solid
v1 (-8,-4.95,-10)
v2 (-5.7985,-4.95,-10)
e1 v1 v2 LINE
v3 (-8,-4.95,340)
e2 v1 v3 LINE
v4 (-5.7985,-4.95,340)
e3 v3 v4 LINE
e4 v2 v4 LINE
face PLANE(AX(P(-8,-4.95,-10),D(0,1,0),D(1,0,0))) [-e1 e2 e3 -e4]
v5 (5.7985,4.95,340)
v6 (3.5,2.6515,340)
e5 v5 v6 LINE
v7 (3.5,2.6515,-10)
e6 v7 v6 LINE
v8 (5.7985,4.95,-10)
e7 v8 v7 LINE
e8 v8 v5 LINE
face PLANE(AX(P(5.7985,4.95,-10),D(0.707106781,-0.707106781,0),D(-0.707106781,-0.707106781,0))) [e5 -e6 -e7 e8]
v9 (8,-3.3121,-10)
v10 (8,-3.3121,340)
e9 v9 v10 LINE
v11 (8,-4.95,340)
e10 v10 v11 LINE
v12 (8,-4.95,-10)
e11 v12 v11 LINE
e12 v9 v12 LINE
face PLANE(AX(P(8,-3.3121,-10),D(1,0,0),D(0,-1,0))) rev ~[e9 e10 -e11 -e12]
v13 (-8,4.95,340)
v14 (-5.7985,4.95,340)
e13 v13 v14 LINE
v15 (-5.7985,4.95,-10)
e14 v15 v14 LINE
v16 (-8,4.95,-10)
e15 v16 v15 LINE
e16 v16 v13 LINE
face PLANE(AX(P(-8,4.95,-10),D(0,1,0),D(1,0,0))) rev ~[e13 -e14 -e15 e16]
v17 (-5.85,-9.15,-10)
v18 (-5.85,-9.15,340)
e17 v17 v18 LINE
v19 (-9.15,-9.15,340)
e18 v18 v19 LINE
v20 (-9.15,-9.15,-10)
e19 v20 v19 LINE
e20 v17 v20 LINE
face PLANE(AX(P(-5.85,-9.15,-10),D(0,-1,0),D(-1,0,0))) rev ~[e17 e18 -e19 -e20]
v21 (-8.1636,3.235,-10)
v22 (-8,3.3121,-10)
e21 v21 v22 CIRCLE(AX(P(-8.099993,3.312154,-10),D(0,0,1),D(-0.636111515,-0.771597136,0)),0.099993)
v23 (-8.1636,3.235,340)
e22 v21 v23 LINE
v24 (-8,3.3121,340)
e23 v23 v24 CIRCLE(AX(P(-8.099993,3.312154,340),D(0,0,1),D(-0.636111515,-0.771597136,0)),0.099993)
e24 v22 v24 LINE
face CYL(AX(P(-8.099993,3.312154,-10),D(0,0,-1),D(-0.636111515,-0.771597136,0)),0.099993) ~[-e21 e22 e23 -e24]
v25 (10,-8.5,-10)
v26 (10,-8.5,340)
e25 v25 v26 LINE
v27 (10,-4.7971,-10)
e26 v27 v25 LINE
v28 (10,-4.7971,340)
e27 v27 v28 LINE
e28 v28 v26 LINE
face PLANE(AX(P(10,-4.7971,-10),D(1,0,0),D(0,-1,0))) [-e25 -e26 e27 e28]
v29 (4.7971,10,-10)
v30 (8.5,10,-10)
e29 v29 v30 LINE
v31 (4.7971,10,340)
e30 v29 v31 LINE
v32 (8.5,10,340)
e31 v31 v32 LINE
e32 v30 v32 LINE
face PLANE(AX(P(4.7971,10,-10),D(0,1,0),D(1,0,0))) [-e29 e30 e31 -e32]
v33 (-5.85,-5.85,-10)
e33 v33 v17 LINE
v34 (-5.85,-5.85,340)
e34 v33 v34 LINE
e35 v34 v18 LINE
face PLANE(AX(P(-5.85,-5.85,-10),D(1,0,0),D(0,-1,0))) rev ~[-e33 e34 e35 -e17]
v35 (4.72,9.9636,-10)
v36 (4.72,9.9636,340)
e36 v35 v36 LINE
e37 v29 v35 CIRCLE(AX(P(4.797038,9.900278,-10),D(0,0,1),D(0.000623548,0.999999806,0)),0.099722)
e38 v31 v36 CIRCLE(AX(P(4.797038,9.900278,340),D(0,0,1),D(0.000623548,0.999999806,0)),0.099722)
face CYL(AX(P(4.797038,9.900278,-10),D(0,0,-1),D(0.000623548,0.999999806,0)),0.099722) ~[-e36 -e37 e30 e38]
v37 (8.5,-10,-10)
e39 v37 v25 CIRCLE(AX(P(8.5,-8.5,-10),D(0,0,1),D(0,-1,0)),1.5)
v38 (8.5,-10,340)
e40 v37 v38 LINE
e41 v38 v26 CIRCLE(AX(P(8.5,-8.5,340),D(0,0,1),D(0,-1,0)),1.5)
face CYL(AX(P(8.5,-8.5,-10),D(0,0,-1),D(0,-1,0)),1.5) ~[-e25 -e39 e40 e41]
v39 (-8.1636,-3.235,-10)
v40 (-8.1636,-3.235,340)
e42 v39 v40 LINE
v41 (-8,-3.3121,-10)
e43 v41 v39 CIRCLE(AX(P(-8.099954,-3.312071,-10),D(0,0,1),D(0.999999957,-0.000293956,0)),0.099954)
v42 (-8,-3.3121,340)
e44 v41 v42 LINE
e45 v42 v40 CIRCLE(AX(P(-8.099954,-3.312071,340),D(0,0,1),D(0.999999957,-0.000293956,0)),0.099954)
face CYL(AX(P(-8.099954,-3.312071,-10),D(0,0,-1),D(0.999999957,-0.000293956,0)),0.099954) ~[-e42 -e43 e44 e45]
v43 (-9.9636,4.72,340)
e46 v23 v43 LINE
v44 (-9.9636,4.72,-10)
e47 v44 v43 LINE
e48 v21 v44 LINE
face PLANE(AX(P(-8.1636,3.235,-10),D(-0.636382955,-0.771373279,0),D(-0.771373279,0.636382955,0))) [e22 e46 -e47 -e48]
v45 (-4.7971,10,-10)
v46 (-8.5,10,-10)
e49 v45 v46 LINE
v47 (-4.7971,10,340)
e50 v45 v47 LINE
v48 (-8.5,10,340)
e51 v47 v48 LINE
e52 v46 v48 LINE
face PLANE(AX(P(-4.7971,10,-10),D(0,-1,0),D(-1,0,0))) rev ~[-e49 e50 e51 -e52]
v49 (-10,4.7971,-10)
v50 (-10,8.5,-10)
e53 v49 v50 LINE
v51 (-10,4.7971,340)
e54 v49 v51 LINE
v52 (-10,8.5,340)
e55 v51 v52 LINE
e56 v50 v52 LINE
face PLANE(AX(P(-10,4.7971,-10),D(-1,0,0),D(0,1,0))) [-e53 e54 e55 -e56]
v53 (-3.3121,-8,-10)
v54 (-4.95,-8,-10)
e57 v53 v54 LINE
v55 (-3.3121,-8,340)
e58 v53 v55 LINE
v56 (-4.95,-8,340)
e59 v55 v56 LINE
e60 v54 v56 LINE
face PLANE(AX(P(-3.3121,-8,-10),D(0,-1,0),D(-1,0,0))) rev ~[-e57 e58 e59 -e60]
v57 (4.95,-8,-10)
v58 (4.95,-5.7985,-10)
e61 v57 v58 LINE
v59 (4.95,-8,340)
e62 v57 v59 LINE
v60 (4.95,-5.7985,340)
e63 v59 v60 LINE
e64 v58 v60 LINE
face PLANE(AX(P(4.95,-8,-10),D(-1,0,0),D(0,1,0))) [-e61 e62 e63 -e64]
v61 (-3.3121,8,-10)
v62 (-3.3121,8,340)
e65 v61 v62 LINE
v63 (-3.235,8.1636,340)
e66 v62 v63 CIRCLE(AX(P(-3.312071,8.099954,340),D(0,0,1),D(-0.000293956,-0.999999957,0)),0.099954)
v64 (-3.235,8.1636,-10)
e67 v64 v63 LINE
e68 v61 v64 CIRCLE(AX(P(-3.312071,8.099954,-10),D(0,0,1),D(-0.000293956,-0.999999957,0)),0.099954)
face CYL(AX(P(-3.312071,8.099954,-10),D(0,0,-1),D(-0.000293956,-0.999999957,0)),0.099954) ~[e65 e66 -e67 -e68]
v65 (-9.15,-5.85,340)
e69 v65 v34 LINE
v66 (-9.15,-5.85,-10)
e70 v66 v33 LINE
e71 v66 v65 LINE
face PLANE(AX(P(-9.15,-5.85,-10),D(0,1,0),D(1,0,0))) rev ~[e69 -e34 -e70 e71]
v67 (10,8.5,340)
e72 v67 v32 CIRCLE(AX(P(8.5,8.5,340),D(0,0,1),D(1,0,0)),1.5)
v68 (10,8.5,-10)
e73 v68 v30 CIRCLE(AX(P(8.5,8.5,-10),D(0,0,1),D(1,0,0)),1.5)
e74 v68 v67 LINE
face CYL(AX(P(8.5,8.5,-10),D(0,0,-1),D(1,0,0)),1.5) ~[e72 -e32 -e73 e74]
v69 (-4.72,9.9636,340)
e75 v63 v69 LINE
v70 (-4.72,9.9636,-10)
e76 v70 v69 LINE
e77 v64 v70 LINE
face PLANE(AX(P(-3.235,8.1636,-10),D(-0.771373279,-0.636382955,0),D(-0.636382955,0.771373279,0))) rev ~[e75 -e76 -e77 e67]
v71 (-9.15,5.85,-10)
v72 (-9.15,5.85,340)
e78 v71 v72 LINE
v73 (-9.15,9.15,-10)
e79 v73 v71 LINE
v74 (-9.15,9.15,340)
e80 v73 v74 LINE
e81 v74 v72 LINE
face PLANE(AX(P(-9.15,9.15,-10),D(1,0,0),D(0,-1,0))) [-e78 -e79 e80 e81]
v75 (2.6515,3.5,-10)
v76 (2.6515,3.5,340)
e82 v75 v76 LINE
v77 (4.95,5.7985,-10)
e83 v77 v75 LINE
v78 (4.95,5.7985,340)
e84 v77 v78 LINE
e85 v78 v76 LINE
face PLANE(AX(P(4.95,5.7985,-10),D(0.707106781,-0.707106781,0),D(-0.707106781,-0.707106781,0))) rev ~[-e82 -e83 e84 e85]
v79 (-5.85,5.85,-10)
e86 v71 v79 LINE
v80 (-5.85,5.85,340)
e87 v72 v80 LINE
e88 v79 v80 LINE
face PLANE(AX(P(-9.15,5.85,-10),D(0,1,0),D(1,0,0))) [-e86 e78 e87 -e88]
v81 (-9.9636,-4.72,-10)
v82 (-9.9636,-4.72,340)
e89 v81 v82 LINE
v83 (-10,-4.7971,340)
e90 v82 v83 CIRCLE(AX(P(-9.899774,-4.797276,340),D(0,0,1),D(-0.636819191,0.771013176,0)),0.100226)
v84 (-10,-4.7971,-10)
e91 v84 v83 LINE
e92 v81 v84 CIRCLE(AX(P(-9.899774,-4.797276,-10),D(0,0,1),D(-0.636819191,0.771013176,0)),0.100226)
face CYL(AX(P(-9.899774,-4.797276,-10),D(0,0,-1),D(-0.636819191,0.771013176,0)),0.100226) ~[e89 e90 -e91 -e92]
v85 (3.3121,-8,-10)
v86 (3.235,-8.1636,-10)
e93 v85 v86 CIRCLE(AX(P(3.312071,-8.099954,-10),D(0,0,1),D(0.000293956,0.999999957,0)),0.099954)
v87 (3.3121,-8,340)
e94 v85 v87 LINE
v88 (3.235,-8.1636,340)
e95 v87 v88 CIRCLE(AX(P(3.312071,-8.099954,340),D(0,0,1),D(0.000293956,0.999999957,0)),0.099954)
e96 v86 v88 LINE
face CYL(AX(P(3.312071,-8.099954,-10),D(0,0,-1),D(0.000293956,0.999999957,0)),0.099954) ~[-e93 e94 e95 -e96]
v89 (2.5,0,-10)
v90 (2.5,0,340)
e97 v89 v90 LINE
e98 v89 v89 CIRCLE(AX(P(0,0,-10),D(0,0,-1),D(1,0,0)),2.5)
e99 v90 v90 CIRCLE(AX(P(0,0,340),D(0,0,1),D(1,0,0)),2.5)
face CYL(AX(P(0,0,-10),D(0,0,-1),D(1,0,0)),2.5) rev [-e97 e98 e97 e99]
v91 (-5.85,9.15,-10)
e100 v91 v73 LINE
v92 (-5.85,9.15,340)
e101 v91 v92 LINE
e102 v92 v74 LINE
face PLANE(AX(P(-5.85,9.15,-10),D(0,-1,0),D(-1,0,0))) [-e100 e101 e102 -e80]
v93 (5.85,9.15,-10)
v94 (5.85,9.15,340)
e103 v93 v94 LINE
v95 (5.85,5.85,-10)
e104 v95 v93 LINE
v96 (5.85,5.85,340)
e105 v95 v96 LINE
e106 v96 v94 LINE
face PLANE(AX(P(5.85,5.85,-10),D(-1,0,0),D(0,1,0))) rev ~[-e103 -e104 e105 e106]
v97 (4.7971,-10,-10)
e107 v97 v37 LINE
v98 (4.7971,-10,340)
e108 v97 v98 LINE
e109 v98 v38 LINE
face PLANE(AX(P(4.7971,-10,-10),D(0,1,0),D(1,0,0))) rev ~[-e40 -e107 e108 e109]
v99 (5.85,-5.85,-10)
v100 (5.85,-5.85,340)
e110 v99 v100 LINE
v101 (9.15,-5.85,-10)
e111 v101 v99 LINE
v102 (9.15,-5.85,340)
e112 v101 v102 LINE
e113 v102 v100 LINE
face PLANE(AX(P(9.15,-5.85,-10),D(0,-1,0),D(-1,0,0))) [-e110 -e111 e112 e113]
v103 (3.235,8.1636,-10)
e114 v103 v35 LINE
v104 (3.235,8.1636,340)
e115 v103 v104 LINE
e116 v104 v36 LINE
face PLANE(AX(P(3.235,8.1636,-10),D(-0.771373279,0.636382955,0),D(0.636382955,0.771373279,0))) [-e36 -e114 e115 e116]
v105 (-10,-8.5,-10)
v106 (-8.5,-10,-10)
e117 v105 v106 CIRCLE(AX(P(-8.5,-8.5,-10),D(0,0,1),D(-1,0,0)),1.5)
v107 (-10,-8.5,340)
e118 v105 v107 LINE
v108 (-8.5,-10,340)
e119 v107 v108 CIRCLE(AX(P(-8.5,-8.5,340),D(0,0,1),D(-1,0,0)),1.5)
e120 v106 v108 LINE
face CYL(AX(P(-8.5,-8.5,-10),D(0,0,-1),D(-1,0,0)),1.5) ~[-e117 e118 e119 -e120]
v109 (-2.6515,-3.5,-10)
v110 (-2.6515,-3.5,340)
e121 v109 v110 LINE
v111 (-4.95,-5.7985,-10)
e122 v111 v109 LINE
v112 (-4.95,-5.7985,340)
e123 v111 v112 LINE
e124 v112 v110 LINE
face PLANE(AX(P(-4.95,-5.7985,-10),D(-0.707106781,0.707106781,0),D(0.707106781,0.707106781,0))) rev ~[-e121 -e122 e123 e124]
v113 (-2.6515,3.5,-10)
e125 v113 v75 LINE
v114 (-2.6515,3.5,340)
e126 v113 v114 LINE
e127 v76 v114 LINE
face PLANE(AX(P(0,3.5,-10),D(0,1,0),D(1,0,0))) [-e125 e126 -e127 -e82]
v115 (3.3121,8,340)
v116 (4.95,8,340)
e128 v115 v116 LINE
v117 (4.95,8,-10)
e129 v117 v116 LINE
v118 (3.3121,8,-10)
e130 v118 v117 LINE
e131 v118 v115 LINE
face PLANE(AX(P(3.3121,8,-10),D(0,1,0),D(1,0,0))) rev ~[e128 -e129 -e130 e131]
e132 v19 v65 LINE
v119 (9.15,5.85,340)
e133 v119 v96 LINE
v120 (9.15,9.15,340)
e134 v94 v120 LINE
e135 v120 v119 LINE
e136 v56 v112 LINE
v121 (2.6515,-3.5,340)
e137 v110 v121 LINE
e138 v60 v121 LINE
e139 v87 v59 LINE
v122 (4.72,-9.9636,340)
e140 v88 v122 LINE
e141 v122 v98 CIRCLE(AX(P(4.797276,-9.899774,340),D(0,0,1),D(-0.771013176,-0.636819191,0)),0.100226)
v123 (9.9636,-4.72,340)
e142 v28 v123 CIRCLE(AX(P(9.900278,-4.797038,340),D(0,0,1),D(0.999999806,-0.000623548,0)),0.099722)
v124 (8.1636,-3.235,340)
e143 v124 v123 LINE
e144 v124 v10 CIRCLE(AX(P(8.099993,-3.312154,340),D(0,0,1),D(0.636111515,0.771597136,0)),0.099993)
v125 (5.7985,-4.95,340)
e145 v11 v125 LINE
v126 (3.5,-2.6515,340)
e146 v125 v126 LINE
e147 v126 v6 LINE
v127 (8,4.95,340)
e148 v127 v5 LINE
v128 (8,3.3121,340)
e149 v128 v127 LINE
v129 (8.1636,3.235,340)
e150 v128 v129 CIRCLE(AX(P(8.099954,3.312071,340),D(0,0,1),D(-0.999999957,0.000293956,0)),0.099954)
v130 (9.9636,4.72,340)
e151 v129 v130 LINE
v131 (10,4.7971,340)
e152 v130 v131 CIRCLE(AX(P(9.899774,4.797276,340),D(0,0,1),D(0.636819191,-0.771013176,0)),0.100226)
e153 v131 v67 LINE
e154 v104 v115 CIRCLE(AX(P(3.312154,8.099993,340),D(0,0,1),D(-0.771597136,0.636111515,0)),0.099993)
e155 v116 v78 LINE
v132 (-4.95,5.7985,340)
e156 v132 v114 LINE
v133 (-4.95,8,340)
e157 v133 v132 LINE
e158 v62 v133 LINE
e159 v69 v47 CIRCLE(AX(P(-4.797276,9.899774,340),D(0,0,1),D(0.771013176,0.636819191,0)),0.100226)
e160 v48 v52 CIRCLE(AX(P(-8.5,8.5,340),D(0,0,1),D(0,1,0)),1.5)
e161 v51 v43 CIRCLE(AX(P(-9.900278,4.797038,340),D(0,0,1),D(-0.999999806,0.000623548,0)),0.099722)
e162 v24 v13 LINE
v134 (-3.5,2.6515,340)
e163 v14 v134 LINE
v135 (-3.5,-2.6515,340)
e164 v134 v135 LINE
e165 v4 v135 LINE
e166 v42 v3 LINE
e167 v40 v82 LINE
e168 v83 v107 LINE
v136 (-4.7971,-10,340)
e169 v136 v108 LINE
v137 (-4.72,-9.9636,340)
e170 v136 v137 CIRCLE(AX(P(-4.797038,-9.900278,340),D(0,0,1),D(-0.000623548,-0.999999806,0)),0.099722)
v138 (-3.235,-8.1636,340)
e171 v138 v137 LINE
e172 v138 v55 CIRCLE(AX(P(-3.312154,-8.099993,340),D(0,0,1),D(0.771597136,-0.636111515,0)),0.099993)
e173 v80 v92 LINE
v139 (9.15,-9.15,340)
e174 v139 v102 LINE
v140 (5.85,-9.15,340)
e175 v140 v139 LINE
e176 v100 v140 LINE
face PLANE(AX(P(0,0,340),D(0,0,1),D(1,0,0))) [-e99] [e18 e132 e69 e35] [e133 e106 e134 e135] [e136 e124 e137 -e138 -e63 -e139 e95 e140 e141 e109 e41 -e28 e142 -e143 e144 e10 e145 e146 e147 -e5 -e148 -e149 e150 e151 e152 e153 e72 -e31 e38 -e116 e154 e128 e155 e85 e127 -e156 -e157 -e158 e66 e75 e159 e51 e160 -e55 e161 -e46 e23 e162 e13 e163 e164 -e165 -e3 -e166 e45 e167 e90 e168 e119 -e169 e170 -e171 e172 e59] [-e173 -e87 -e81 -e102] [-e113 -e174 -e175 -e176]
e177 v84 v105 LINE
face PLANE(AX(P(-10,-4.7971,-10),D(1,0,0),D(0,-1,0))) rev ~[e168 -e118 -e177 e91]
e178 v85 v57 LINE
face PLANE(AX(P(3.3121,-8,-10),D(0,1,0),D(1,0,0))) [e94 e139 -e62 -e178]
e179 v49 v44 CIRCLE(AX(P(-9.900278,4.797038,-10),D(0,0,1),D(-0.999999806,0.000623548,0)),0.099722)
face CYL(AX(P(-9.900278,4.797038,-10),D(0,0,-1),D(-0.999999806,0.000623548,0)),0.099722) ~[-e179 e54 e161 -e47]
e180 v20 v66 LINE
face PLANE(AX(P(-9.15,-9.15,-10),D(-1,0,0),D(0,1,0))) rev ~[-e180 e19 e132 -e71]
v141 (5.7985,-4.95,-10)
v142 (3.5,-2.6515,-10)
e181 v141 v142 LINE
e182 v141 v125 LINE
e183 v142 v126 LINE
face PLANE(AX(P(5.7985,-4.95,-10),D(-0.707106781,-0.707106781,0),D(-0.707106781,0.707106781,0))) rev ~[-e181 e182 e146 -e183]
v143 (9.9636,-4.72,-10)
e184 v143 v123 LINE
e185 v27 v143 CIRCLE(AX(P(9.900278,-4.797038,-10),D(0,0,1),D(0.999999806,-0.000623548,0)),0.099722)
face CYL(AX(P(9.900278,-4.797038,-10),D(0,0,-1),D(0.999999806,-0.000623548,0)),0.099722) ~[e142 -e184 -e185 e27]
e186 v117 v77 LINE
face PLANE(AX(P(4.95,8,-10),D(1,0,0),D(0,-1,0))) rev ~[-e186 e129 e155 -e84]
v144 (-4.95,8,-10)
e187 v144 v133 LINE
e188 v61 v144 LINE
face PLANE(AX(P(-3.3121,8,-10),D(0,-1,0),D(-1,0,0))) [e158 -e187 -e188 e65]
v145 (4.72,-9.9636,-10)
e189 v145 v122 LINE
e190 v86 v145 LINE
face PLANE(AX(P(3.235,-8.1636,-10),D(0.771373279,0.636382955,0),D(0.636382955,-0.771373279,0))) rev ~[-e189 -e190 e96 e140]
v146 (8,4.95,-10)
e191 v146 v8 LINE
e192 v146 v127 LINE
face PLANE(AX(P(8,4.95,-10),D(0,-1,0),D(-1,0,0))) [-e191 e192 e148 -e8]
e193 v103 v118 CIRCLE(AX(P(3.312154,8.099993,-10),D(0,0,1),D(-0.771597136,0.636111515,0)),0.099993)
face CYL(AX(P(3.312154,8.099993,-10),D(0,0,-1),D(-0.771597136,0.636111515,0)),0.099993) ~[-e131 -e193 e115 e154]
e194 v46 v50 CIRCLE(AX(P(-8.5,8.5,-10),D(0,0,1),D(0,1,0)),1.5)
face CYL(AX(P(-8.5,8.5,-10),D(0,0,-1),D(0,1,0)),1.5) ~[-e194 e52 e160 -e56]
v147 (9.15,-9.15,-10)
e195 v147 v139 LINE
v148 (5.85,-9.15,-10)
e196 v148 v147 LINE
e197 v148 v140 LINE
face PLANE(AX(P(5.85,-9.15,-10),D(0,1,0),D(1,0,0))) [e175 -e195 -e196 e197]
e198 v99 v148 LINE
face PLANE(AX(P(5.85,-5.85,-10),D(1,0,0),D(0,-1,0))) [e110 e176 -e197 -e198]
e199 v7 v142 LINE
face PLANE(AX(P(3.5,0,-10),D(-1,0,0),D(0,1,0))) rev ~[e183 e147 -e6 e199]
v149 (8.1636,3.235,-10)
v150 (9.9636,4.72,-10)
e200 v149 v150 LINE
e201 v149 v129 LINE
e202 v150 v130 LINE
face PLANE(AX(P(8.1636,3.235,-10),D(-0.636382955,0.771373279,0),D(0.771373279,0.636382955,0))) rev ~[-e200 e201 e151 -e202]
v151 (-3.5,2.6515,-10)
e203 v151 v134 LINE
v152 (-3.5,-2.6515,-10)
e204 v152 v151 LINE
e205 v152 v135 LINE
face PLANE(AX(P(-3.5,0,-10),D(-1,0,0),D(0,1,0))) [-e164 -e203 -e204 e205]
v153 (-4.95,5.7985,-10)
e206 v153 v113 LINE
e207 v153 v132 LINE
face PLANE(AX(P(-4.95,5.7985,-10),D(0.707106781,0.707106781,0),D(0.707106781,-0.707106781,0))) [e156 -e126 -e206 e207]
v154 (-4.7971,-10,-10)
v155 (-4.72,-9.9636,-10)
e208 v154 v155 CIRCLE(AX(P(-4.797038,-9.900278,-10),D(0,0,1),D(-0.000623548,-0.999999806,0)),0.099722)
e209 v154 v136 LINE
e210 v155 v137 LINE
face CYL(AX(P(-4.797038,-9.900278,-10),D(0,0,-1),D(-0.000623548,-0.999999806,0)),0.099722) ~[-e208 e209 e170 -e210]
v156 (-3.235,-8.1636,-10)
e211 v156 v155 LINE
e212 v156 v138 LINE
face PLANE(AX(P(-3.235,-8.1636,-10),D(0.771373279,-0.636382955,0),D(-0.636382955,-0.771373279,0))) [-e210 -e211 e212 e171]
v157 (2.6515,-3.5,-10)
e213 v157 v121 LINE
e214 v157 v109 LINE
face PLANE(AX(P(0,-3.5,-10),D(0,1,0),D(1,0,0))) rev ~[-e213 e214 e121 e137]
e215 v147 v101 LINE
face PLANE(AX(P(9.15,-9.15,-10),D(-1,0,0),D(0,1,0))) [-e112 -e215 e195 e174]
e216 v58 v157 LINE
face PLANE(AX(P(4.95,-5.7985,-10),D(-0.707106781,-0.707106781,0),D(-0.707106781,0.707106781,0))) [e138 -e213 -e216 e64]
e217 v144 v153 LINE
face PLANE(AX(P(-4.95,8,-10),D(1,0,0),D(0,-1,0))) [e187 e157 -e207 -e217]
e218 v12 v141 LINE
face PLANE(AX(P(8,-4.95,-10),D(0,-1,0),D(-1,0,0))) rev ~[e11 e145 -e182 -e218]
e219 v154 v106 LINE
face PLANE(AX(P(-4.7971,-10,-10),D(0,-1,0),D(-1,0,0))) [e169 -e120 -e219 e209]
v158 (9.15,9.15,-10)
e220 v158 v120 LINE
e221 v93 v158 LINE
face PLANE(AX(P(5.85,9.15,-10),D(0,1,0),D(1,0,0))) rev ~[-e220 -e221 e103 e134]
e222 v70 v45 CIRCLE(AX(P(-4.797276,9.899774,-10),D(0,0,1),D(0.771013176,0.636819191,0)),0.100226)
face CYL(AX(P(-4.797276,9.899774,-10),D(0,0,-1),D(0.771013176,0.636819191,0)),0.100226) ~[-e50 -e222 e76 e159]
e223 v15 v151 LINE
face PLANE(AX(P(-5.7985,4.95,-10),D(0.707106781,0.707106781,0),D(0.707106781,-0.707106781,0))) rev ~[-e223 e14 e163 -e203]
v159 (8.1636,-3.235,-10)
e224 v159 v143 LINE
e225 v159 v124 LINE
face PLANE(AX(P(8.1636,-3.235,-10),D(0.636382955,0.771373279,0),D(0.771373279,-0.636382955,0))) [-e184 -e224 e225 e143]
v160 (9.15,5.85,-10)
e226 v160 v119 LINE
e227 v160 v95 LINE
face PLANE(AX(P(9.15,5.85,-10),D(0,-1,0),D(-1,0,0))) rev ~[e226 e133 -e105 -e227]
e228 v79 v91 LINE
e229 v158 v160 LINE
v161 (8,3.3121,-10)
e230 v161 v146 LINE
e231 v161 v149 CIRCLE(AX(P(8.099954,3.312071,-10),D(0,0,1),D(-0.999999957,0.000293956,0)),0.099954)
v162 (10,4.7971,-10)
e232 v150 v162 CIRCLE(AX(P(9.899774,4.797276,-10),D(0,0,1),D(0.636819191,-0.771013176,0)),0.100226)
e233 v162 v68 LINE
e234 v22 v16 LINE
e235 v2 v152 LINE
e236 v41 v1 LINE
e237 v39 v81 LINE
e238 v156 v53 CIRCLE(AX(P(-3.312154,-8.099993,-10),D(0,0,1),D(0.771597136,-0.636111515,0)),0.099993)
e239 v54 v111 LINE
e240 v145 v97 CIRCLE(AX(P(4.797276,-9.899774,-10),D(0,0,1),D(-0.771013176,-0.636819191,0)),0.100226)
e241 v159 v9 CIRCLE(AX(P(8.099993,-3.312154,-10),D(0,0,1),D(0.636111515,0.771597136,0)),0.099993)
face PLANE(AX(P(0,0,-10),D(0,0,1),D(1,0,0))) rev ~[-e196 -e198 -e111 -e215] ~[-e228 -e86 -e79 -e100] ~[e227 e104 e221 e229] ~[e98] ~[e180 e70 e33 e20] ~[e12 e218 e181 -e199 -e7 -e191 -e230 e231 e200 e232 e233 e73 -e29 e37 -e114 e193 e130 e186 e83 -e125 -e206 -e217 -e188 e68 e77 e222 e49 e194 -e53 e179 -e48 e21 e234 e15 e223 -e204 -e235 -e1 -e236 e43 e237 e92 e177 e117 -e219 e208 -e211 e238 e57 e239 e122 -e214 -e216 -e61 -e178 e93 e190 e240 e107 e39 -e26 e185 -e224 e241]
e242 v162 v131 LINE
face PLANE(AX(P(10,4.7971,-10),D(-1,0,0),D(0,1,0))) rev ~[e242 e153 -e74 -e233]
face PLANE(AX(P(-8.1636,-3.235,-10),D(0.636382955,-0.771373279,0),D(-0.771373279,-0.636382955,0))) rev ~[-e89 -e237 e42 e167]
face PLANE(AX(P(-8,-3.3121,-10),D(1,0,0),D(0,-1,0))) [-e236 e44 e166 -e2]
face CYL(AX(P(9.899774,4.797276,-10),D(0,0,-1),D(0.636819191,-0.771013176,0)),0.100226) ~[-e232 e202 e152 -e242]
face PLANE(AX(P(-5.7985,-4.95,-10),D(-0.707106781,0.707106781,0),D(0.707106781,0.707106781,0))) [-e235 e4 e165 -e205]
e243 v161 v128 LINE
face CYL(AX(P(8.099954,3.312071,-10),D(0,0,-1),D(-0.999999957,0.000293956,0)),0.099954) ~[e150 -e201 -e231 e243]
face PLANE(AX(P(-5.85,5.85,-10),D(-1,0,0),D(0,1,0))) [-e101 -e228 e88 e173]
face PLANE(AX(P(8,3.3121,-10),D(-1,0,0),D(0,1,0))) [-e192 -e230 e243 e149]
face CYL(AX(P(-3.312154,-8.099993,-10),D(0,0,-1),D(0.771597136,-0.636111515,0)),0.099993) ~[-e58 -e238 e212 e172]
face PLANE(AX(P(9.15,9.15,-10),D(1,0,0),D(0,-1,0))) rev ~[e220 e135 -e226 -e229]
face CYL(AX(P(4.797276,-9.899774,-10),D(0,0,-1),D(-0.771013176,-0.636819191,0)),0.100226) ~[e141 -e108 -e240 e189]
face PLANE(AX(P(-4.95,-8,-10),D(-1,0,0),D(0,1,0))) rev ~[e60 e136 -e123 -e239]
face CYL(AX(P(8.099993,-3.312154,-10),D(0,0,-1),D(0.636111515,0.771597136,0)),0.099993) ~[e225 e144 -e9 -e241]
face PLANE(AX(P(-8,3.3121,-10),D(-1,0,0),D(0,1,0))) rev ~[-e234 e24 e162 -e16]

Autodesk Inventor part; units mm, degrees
ref_plane "Начальная плоскость" through (0, 0, -10) normal (0, 0, 1) x (1, 0, 0)
ref_plane "Конечная плоскость" through (0, 0, 340) normal (0, 0, 1) x (1, 0, 0)
sketch "Эскиз" plane through (0, 0, 0) normal (0, 0, 1) x (1, 0, 0)
  line L0 (-14.4349, 0) -> (14.4349, 0) projected
  line L1 (0, -14) -> (0, 14) projected
  line L2 (0, 0) -> (7.5, 7.5) construction
  circle A0 centre (7.5, 7.5) radius 1.65 construction
  line L3 (5.85, 9.15) -> (9.15, 9.15)
  line L4 (9.15, 9.15) -> (9.15, 5.85)
  line L5 (9.15, 5.85) -> (5.85, 5.85)
  line L6 (5.85, 5.85) -> (5.85, 9.15)
  line L7 (3.235, 8.1636) -> (4.72, 9.9636)
  line L8 (4.7971, 10) -> (8.5, 10)
  line L9 (3.3121, 8) -> (4.95, 8)
  line L10 (4.95, 8) -> (4.95, 5.7985)
  line L11 (4.95, 5.7985) -> (2.6515, 3.5)
  line L12 (0, 3.5) -> (2.6515, 3.5)
  circle A1 centre (0, 0) radius 2.5
  line L13 (8.1636, 3.235) -> (9.9636, 4.72)
  line L14 (10, 4.7971) -> (10, 8.5)
  line L15 (8, 3.3121) -> (8, 4.95)
  line L16 (8, 4.95) -> (5.7985, 4.95)
  line L17 (5.7985, 4.95) -> (3.5, 2.6515)
  line L18 (3.5, 0) -> (3.5, 2.6515)
  arc A2 (10, 8.5) -> (8.5, 10) centre (8.5, 8.5) ccw
  line L19 (0, 0) -> (-7.5, 7.5) construction
  circle A3 centre (-7.5, 7.5) radius 1.65 construction
  line L20 (-5.85, 9.15) -> (-9.15, 9.15)
  line L21 (-9.15, 9.15) -> (-9.15, 5.85)
  line L22 (-9.15, 5.85) -> (-5.85, 5.85)
  line L23 (-5.85, 5.85) -> (-5.85, 9.15)
  line L24 (-3.235, 8.1636) -> (-4.72, 9.9636)
  line L25 (-4.7971, 10) -> (-8.5, 10)
  line L26 (-3.3121, 8) -> (-4.95, 8)
  line L27 (-4.95, 8) -> (-4.95, 5.7985)
  line L28 (-4.95, 5.7985) -> (-2.6515, 3.5)
  line L29 (0, 3.5) -> (-2.6515, 3.5)
  line L30 (-3.5, 0) -> (-3.5, 2.6515)
  line L31 (-5.7985, 4.95) -> (-3.5, 2.6515)
  line L32 (-8, 4.95) -> (-5.7985, 4.95)
  line L33 (-8, 3.3121) -> (-8, 4.95)
  line L34 (-8.1636, 3.235) -> (-9.9636, 4.72)
  line L35 (-10, 4.7971) -> (-10, 8.5)
  arc A4 (-8.5, 10) -> (-10, 8.5) centre (-8.5, 8.5) ccw
  line L36 (0, 14) -> (0, -14)
  line L37 (0, 0) -> (7.5, -7.5) construction
  circle A5 centre (7.5, -7.5) radius 1.65 construction
  line L38 (5.85, -9.15) -> (9.15, -9.15)
  line L39 (9.15, -9.15) -> (9.15, -5.85)
  line L40 (9.15, -5.85) -> (5.85, -5.85)
  line L41 (5.85, -5.85) -> (5.85, -9.15)
  line L42 (3.235, -8.1636) -> (4.72, -9.9636)
  line L43 (4.7971, -10) -> (8.5, -10)
  line L44 (3.3121, -8) -> (4.95, -8)
  line L45 (4.95, -8) -> (4.95, -5.7985)
  line L46 (4.95, -5.7985) -> (2.6515, -3.5)
  line L47 (0, -3.5) -> (2.6515, -3.5)
  line L48 (3.5, 0) -> (3.5, -2.6515)
  line L49 (5.7985, -4.95) -> (3.5, -2.6515)
  line L50 (8, -4.95) -> (5.7985, -4.95)
  line L51 (8, -3.3121) -> (8, -4.95)
  line L52 (8.1636, -3.235) -> (9.9636, -4.72)
  line L53 (10, -4.7971) -> (10, -8.5)
  arc A6 (8.5, -10) -> (10, -8.5) centre (8.5, -8.5) ccw
  line L54 (0, 0) -> (-7.5, -7.5) construction
  line L55 (-4.95, -8) -> (-4.95, -5.7985)
  line L56 (-3.3121, -8) -> (-4.95, -8)
  line L57 (-5.7985, -4.95) -> (-3.5, -2.6515)
  line L58 (-4.95, -5.7985) -> (-2.6515, -3.5)
  line L59 (-3.5, 0) -> (-3.5, -2.6515)
  line L60 (0, -3.5) -> (-2.6515, -3.5)
  circle A7 centre (-7.5, -7.5) radius 1.65 construction
  line L61 (-5.85, -5.85) -> (-5.85, -9.15)
  line L62 (-5.85, -9.15) -> (-9.15, -9.15)
  line L63 (-9.15, -9.15) -> (-9.15, -5.85)
  line L64 (-9.15, -5.85) -> (-5.85, -5.85)
  line L65 (-3.235, -8.1636) -> (-4.72, -9.9636)
  line L66 (-8, -4.95) -> (-5.7985, -4.95)
  line L67 (-8, -3.3121) -> (-8, -4.95)
  line L68 (-8.1636, -3.235) -> (-9.9636, -4.72)
  line L69 (-4.7971, -10) -> (-8.5, -10)
  line L70 (-10, -4.7971) -> (-10, -8.5)
  arc A8 (-10, -8.5) -> (-8.5, -10) centre (-8.5, -8.5) ccw
  arc A9 (3.235, 8.1636) -> (3.3121, 8) centre (3.3121, 8.1) ccw
  arc A10 (4.7971, 10) -> (4.72, 9.9636) centre (4.7971, 9.9) ccw
  arc A11 (8, 3.3121) -> (8.1636, 3.235) centre (8.1, 3.3121) ccw
  arc A12 (9.9636, 4.72) -> (10, 4.7971) centre (9.9, 4.7971) ccw
  arc A13 (-3.3121, 8) -> (-3.235, 8.1636) centre (-3.3121, 8.1) ccw
  arc A14 (-4.72, 9.9636) -> (-4.7971, 10) centre (-4.7971, 9.9) ccw
  arc A15 (-8.1636, 3.235) -> (-8, 3.3121) centre (-8.1, 3.3121) ccw
  arc A16 (-10, 4.7971) -> (-9.9636, 4.72) centre (-9.9, 4.7971) ccw
  arc A17 (-8, -3.3121) -> (-8.1636, -3.235) centre (-8.1, -3.3121) ccw
  arc A18 (-9.9636, -4.72) -> (-10, -4.7971) centre (-9.9, -4.7971) ccw
  arc A19 (-3.235, -8.1636) -> (-3.3121, -8) centre (-3.3121, -8.1) ccw
  arc A20 (-4.7971, -10) -> (-4.72, -9.9636) centre (-4.7971, -9.9) ccw
  arc A21 (4.72, -9.9636) -> (4.7971, -10) centre (4.7971, -9.9) ccw
  arc A22 (3.3121, -8) -> (3.235, -8.1636) centre (3.3121, -8.1) ccw
  arc A23 (8.1636, -3.235) -> (8, -3.3121) centre (8.1, -3.3121) ccw
  arc A24 (10, -4.7971) -> (9.9636, -4.72) centre (9.9, -4.7971) ccw
  point P0 (3.1, 8)
  point P1 (4.75, 10)
  point P2 (7.5, 9.15)
  point P3 (8, 3.1)
  point P4 (10, 4.75)
  point P5 (7.5, 5.85)
  point P6 (9.15, 7.5)
  point P7 (-3.1, 8)
  point P8 (-4.75, 10)
  point P9 (-7.5, 9.15)
  point P10 (-8, 3.1)
  point P11 (-10, 4.75)
  point P12 (-7.5, 5.85)
  point P13 (-9.15, 7.5)
  point P14 (3.1, -8)
  point P15 (4.75, -10)
  point P16 (7.5, -9.15)
  point P17 (8, -3.1)
  point P18 (10, -4.75)
  point P19 (7.5, -5.85)
  point P20 (9.15, -7.5)
  point P21 (-3.1, -8)
  point P22 (-7.5, -5.85)
  point P23 (-7.5, -9.15)
  point P24 (-9.15, -7.5)
  point P25 (-4.75, -10)
  point P26 (-8, -3.1)
  point P27 (-10, -4.75)
  dimension "d0" = 45
  dimension "d1" = 3.3
  dimension "d2" = 1.5
  dimension "d3" = 1.2
  dimension "d4" = 5
  dimension "d5" = 6.5
  dimension "d6" = 15
  dimension "d7" = 20
  dimension "d8" = 9.9
  dimension "d9" = 9.5
  dimension "d10" = 6.2
  dimension "d11" = 2
  dimension "d18" = 0.1
  dimension "d19" = 0.1
extrude "Тело" add sketch "Эскиз" along normal up to surface (350 mm away) from surface at -10 contours A1 L1 L12 L11 L10 L9 A9 L7 A10 L8 A2 L14 A12 L13 A11 L15 L16 L17 L18 L0 | L0 L48 L49 L50 L51 A23 L52 A24 L53 A6 L43 A21 L42 A22 L44 L45 L46 L47 L1 A1 | A1 L0 L30 L31 L32 L33 A15 L34 A16 L35 A4 L25 A14 L24 A13 L26 L27 L28 L29 L1 | L1 L60 L58 L55 L56 A19 L65 A20 L69 A8 L70 A18 L68 A17 L67 L66 L57 L59 L0 A1
sketch "Эскиз2" plane through (0, 0, 0) normal (0, 0, 1) x (1, 0, 0)
  line L0 (0, 0) -> (10, 0)
ref_plane "РабПлоскость3" through (0, 0, 0) normal (0, -1, 0) x (1, 0, 0)
sketch "Эскиз3" plane through (0, 0, 0) normal (0, -1, 0) x (1, 0, 0)
  line L0 (-2, -10) -> (12, -10)
  line L1 (-2, 340) -> (12, 340)
  dimension "d25" = 350
ref_plane "РабПлоскость4" through (-600, 0, -10) normal (0, 0, -1) x (-1, 0, 0)
split "Разделение1" plane through (-600, 0, -10) removes the side toward (0, 0, -1)
ref_plane "РабПлоскость5" through (0, 0, -10) normal (0, 0, -1) x (-1, 0, 0)
split "Разделение2" plane through (0, 0, -10) removes the side toward (0, 0, -1)
ref_plane "РабПлоскость6" through (-500, 0, 340) normal (0, 0, 1) x (1, 0, 0)
split "Разделение3" plane through (-500, 0, 340) removes the side toward (0, 0, 1)
ref_plane "РабПлоскость7" through (0, 10, 340) normal (0, 0, 1) x (1, 0, 0)
split "Разделение4" plane through (0, 10, 340) removes the side toward (0, 0, 1)
properties part number "короткая палка" material "Алюминий 6061"
